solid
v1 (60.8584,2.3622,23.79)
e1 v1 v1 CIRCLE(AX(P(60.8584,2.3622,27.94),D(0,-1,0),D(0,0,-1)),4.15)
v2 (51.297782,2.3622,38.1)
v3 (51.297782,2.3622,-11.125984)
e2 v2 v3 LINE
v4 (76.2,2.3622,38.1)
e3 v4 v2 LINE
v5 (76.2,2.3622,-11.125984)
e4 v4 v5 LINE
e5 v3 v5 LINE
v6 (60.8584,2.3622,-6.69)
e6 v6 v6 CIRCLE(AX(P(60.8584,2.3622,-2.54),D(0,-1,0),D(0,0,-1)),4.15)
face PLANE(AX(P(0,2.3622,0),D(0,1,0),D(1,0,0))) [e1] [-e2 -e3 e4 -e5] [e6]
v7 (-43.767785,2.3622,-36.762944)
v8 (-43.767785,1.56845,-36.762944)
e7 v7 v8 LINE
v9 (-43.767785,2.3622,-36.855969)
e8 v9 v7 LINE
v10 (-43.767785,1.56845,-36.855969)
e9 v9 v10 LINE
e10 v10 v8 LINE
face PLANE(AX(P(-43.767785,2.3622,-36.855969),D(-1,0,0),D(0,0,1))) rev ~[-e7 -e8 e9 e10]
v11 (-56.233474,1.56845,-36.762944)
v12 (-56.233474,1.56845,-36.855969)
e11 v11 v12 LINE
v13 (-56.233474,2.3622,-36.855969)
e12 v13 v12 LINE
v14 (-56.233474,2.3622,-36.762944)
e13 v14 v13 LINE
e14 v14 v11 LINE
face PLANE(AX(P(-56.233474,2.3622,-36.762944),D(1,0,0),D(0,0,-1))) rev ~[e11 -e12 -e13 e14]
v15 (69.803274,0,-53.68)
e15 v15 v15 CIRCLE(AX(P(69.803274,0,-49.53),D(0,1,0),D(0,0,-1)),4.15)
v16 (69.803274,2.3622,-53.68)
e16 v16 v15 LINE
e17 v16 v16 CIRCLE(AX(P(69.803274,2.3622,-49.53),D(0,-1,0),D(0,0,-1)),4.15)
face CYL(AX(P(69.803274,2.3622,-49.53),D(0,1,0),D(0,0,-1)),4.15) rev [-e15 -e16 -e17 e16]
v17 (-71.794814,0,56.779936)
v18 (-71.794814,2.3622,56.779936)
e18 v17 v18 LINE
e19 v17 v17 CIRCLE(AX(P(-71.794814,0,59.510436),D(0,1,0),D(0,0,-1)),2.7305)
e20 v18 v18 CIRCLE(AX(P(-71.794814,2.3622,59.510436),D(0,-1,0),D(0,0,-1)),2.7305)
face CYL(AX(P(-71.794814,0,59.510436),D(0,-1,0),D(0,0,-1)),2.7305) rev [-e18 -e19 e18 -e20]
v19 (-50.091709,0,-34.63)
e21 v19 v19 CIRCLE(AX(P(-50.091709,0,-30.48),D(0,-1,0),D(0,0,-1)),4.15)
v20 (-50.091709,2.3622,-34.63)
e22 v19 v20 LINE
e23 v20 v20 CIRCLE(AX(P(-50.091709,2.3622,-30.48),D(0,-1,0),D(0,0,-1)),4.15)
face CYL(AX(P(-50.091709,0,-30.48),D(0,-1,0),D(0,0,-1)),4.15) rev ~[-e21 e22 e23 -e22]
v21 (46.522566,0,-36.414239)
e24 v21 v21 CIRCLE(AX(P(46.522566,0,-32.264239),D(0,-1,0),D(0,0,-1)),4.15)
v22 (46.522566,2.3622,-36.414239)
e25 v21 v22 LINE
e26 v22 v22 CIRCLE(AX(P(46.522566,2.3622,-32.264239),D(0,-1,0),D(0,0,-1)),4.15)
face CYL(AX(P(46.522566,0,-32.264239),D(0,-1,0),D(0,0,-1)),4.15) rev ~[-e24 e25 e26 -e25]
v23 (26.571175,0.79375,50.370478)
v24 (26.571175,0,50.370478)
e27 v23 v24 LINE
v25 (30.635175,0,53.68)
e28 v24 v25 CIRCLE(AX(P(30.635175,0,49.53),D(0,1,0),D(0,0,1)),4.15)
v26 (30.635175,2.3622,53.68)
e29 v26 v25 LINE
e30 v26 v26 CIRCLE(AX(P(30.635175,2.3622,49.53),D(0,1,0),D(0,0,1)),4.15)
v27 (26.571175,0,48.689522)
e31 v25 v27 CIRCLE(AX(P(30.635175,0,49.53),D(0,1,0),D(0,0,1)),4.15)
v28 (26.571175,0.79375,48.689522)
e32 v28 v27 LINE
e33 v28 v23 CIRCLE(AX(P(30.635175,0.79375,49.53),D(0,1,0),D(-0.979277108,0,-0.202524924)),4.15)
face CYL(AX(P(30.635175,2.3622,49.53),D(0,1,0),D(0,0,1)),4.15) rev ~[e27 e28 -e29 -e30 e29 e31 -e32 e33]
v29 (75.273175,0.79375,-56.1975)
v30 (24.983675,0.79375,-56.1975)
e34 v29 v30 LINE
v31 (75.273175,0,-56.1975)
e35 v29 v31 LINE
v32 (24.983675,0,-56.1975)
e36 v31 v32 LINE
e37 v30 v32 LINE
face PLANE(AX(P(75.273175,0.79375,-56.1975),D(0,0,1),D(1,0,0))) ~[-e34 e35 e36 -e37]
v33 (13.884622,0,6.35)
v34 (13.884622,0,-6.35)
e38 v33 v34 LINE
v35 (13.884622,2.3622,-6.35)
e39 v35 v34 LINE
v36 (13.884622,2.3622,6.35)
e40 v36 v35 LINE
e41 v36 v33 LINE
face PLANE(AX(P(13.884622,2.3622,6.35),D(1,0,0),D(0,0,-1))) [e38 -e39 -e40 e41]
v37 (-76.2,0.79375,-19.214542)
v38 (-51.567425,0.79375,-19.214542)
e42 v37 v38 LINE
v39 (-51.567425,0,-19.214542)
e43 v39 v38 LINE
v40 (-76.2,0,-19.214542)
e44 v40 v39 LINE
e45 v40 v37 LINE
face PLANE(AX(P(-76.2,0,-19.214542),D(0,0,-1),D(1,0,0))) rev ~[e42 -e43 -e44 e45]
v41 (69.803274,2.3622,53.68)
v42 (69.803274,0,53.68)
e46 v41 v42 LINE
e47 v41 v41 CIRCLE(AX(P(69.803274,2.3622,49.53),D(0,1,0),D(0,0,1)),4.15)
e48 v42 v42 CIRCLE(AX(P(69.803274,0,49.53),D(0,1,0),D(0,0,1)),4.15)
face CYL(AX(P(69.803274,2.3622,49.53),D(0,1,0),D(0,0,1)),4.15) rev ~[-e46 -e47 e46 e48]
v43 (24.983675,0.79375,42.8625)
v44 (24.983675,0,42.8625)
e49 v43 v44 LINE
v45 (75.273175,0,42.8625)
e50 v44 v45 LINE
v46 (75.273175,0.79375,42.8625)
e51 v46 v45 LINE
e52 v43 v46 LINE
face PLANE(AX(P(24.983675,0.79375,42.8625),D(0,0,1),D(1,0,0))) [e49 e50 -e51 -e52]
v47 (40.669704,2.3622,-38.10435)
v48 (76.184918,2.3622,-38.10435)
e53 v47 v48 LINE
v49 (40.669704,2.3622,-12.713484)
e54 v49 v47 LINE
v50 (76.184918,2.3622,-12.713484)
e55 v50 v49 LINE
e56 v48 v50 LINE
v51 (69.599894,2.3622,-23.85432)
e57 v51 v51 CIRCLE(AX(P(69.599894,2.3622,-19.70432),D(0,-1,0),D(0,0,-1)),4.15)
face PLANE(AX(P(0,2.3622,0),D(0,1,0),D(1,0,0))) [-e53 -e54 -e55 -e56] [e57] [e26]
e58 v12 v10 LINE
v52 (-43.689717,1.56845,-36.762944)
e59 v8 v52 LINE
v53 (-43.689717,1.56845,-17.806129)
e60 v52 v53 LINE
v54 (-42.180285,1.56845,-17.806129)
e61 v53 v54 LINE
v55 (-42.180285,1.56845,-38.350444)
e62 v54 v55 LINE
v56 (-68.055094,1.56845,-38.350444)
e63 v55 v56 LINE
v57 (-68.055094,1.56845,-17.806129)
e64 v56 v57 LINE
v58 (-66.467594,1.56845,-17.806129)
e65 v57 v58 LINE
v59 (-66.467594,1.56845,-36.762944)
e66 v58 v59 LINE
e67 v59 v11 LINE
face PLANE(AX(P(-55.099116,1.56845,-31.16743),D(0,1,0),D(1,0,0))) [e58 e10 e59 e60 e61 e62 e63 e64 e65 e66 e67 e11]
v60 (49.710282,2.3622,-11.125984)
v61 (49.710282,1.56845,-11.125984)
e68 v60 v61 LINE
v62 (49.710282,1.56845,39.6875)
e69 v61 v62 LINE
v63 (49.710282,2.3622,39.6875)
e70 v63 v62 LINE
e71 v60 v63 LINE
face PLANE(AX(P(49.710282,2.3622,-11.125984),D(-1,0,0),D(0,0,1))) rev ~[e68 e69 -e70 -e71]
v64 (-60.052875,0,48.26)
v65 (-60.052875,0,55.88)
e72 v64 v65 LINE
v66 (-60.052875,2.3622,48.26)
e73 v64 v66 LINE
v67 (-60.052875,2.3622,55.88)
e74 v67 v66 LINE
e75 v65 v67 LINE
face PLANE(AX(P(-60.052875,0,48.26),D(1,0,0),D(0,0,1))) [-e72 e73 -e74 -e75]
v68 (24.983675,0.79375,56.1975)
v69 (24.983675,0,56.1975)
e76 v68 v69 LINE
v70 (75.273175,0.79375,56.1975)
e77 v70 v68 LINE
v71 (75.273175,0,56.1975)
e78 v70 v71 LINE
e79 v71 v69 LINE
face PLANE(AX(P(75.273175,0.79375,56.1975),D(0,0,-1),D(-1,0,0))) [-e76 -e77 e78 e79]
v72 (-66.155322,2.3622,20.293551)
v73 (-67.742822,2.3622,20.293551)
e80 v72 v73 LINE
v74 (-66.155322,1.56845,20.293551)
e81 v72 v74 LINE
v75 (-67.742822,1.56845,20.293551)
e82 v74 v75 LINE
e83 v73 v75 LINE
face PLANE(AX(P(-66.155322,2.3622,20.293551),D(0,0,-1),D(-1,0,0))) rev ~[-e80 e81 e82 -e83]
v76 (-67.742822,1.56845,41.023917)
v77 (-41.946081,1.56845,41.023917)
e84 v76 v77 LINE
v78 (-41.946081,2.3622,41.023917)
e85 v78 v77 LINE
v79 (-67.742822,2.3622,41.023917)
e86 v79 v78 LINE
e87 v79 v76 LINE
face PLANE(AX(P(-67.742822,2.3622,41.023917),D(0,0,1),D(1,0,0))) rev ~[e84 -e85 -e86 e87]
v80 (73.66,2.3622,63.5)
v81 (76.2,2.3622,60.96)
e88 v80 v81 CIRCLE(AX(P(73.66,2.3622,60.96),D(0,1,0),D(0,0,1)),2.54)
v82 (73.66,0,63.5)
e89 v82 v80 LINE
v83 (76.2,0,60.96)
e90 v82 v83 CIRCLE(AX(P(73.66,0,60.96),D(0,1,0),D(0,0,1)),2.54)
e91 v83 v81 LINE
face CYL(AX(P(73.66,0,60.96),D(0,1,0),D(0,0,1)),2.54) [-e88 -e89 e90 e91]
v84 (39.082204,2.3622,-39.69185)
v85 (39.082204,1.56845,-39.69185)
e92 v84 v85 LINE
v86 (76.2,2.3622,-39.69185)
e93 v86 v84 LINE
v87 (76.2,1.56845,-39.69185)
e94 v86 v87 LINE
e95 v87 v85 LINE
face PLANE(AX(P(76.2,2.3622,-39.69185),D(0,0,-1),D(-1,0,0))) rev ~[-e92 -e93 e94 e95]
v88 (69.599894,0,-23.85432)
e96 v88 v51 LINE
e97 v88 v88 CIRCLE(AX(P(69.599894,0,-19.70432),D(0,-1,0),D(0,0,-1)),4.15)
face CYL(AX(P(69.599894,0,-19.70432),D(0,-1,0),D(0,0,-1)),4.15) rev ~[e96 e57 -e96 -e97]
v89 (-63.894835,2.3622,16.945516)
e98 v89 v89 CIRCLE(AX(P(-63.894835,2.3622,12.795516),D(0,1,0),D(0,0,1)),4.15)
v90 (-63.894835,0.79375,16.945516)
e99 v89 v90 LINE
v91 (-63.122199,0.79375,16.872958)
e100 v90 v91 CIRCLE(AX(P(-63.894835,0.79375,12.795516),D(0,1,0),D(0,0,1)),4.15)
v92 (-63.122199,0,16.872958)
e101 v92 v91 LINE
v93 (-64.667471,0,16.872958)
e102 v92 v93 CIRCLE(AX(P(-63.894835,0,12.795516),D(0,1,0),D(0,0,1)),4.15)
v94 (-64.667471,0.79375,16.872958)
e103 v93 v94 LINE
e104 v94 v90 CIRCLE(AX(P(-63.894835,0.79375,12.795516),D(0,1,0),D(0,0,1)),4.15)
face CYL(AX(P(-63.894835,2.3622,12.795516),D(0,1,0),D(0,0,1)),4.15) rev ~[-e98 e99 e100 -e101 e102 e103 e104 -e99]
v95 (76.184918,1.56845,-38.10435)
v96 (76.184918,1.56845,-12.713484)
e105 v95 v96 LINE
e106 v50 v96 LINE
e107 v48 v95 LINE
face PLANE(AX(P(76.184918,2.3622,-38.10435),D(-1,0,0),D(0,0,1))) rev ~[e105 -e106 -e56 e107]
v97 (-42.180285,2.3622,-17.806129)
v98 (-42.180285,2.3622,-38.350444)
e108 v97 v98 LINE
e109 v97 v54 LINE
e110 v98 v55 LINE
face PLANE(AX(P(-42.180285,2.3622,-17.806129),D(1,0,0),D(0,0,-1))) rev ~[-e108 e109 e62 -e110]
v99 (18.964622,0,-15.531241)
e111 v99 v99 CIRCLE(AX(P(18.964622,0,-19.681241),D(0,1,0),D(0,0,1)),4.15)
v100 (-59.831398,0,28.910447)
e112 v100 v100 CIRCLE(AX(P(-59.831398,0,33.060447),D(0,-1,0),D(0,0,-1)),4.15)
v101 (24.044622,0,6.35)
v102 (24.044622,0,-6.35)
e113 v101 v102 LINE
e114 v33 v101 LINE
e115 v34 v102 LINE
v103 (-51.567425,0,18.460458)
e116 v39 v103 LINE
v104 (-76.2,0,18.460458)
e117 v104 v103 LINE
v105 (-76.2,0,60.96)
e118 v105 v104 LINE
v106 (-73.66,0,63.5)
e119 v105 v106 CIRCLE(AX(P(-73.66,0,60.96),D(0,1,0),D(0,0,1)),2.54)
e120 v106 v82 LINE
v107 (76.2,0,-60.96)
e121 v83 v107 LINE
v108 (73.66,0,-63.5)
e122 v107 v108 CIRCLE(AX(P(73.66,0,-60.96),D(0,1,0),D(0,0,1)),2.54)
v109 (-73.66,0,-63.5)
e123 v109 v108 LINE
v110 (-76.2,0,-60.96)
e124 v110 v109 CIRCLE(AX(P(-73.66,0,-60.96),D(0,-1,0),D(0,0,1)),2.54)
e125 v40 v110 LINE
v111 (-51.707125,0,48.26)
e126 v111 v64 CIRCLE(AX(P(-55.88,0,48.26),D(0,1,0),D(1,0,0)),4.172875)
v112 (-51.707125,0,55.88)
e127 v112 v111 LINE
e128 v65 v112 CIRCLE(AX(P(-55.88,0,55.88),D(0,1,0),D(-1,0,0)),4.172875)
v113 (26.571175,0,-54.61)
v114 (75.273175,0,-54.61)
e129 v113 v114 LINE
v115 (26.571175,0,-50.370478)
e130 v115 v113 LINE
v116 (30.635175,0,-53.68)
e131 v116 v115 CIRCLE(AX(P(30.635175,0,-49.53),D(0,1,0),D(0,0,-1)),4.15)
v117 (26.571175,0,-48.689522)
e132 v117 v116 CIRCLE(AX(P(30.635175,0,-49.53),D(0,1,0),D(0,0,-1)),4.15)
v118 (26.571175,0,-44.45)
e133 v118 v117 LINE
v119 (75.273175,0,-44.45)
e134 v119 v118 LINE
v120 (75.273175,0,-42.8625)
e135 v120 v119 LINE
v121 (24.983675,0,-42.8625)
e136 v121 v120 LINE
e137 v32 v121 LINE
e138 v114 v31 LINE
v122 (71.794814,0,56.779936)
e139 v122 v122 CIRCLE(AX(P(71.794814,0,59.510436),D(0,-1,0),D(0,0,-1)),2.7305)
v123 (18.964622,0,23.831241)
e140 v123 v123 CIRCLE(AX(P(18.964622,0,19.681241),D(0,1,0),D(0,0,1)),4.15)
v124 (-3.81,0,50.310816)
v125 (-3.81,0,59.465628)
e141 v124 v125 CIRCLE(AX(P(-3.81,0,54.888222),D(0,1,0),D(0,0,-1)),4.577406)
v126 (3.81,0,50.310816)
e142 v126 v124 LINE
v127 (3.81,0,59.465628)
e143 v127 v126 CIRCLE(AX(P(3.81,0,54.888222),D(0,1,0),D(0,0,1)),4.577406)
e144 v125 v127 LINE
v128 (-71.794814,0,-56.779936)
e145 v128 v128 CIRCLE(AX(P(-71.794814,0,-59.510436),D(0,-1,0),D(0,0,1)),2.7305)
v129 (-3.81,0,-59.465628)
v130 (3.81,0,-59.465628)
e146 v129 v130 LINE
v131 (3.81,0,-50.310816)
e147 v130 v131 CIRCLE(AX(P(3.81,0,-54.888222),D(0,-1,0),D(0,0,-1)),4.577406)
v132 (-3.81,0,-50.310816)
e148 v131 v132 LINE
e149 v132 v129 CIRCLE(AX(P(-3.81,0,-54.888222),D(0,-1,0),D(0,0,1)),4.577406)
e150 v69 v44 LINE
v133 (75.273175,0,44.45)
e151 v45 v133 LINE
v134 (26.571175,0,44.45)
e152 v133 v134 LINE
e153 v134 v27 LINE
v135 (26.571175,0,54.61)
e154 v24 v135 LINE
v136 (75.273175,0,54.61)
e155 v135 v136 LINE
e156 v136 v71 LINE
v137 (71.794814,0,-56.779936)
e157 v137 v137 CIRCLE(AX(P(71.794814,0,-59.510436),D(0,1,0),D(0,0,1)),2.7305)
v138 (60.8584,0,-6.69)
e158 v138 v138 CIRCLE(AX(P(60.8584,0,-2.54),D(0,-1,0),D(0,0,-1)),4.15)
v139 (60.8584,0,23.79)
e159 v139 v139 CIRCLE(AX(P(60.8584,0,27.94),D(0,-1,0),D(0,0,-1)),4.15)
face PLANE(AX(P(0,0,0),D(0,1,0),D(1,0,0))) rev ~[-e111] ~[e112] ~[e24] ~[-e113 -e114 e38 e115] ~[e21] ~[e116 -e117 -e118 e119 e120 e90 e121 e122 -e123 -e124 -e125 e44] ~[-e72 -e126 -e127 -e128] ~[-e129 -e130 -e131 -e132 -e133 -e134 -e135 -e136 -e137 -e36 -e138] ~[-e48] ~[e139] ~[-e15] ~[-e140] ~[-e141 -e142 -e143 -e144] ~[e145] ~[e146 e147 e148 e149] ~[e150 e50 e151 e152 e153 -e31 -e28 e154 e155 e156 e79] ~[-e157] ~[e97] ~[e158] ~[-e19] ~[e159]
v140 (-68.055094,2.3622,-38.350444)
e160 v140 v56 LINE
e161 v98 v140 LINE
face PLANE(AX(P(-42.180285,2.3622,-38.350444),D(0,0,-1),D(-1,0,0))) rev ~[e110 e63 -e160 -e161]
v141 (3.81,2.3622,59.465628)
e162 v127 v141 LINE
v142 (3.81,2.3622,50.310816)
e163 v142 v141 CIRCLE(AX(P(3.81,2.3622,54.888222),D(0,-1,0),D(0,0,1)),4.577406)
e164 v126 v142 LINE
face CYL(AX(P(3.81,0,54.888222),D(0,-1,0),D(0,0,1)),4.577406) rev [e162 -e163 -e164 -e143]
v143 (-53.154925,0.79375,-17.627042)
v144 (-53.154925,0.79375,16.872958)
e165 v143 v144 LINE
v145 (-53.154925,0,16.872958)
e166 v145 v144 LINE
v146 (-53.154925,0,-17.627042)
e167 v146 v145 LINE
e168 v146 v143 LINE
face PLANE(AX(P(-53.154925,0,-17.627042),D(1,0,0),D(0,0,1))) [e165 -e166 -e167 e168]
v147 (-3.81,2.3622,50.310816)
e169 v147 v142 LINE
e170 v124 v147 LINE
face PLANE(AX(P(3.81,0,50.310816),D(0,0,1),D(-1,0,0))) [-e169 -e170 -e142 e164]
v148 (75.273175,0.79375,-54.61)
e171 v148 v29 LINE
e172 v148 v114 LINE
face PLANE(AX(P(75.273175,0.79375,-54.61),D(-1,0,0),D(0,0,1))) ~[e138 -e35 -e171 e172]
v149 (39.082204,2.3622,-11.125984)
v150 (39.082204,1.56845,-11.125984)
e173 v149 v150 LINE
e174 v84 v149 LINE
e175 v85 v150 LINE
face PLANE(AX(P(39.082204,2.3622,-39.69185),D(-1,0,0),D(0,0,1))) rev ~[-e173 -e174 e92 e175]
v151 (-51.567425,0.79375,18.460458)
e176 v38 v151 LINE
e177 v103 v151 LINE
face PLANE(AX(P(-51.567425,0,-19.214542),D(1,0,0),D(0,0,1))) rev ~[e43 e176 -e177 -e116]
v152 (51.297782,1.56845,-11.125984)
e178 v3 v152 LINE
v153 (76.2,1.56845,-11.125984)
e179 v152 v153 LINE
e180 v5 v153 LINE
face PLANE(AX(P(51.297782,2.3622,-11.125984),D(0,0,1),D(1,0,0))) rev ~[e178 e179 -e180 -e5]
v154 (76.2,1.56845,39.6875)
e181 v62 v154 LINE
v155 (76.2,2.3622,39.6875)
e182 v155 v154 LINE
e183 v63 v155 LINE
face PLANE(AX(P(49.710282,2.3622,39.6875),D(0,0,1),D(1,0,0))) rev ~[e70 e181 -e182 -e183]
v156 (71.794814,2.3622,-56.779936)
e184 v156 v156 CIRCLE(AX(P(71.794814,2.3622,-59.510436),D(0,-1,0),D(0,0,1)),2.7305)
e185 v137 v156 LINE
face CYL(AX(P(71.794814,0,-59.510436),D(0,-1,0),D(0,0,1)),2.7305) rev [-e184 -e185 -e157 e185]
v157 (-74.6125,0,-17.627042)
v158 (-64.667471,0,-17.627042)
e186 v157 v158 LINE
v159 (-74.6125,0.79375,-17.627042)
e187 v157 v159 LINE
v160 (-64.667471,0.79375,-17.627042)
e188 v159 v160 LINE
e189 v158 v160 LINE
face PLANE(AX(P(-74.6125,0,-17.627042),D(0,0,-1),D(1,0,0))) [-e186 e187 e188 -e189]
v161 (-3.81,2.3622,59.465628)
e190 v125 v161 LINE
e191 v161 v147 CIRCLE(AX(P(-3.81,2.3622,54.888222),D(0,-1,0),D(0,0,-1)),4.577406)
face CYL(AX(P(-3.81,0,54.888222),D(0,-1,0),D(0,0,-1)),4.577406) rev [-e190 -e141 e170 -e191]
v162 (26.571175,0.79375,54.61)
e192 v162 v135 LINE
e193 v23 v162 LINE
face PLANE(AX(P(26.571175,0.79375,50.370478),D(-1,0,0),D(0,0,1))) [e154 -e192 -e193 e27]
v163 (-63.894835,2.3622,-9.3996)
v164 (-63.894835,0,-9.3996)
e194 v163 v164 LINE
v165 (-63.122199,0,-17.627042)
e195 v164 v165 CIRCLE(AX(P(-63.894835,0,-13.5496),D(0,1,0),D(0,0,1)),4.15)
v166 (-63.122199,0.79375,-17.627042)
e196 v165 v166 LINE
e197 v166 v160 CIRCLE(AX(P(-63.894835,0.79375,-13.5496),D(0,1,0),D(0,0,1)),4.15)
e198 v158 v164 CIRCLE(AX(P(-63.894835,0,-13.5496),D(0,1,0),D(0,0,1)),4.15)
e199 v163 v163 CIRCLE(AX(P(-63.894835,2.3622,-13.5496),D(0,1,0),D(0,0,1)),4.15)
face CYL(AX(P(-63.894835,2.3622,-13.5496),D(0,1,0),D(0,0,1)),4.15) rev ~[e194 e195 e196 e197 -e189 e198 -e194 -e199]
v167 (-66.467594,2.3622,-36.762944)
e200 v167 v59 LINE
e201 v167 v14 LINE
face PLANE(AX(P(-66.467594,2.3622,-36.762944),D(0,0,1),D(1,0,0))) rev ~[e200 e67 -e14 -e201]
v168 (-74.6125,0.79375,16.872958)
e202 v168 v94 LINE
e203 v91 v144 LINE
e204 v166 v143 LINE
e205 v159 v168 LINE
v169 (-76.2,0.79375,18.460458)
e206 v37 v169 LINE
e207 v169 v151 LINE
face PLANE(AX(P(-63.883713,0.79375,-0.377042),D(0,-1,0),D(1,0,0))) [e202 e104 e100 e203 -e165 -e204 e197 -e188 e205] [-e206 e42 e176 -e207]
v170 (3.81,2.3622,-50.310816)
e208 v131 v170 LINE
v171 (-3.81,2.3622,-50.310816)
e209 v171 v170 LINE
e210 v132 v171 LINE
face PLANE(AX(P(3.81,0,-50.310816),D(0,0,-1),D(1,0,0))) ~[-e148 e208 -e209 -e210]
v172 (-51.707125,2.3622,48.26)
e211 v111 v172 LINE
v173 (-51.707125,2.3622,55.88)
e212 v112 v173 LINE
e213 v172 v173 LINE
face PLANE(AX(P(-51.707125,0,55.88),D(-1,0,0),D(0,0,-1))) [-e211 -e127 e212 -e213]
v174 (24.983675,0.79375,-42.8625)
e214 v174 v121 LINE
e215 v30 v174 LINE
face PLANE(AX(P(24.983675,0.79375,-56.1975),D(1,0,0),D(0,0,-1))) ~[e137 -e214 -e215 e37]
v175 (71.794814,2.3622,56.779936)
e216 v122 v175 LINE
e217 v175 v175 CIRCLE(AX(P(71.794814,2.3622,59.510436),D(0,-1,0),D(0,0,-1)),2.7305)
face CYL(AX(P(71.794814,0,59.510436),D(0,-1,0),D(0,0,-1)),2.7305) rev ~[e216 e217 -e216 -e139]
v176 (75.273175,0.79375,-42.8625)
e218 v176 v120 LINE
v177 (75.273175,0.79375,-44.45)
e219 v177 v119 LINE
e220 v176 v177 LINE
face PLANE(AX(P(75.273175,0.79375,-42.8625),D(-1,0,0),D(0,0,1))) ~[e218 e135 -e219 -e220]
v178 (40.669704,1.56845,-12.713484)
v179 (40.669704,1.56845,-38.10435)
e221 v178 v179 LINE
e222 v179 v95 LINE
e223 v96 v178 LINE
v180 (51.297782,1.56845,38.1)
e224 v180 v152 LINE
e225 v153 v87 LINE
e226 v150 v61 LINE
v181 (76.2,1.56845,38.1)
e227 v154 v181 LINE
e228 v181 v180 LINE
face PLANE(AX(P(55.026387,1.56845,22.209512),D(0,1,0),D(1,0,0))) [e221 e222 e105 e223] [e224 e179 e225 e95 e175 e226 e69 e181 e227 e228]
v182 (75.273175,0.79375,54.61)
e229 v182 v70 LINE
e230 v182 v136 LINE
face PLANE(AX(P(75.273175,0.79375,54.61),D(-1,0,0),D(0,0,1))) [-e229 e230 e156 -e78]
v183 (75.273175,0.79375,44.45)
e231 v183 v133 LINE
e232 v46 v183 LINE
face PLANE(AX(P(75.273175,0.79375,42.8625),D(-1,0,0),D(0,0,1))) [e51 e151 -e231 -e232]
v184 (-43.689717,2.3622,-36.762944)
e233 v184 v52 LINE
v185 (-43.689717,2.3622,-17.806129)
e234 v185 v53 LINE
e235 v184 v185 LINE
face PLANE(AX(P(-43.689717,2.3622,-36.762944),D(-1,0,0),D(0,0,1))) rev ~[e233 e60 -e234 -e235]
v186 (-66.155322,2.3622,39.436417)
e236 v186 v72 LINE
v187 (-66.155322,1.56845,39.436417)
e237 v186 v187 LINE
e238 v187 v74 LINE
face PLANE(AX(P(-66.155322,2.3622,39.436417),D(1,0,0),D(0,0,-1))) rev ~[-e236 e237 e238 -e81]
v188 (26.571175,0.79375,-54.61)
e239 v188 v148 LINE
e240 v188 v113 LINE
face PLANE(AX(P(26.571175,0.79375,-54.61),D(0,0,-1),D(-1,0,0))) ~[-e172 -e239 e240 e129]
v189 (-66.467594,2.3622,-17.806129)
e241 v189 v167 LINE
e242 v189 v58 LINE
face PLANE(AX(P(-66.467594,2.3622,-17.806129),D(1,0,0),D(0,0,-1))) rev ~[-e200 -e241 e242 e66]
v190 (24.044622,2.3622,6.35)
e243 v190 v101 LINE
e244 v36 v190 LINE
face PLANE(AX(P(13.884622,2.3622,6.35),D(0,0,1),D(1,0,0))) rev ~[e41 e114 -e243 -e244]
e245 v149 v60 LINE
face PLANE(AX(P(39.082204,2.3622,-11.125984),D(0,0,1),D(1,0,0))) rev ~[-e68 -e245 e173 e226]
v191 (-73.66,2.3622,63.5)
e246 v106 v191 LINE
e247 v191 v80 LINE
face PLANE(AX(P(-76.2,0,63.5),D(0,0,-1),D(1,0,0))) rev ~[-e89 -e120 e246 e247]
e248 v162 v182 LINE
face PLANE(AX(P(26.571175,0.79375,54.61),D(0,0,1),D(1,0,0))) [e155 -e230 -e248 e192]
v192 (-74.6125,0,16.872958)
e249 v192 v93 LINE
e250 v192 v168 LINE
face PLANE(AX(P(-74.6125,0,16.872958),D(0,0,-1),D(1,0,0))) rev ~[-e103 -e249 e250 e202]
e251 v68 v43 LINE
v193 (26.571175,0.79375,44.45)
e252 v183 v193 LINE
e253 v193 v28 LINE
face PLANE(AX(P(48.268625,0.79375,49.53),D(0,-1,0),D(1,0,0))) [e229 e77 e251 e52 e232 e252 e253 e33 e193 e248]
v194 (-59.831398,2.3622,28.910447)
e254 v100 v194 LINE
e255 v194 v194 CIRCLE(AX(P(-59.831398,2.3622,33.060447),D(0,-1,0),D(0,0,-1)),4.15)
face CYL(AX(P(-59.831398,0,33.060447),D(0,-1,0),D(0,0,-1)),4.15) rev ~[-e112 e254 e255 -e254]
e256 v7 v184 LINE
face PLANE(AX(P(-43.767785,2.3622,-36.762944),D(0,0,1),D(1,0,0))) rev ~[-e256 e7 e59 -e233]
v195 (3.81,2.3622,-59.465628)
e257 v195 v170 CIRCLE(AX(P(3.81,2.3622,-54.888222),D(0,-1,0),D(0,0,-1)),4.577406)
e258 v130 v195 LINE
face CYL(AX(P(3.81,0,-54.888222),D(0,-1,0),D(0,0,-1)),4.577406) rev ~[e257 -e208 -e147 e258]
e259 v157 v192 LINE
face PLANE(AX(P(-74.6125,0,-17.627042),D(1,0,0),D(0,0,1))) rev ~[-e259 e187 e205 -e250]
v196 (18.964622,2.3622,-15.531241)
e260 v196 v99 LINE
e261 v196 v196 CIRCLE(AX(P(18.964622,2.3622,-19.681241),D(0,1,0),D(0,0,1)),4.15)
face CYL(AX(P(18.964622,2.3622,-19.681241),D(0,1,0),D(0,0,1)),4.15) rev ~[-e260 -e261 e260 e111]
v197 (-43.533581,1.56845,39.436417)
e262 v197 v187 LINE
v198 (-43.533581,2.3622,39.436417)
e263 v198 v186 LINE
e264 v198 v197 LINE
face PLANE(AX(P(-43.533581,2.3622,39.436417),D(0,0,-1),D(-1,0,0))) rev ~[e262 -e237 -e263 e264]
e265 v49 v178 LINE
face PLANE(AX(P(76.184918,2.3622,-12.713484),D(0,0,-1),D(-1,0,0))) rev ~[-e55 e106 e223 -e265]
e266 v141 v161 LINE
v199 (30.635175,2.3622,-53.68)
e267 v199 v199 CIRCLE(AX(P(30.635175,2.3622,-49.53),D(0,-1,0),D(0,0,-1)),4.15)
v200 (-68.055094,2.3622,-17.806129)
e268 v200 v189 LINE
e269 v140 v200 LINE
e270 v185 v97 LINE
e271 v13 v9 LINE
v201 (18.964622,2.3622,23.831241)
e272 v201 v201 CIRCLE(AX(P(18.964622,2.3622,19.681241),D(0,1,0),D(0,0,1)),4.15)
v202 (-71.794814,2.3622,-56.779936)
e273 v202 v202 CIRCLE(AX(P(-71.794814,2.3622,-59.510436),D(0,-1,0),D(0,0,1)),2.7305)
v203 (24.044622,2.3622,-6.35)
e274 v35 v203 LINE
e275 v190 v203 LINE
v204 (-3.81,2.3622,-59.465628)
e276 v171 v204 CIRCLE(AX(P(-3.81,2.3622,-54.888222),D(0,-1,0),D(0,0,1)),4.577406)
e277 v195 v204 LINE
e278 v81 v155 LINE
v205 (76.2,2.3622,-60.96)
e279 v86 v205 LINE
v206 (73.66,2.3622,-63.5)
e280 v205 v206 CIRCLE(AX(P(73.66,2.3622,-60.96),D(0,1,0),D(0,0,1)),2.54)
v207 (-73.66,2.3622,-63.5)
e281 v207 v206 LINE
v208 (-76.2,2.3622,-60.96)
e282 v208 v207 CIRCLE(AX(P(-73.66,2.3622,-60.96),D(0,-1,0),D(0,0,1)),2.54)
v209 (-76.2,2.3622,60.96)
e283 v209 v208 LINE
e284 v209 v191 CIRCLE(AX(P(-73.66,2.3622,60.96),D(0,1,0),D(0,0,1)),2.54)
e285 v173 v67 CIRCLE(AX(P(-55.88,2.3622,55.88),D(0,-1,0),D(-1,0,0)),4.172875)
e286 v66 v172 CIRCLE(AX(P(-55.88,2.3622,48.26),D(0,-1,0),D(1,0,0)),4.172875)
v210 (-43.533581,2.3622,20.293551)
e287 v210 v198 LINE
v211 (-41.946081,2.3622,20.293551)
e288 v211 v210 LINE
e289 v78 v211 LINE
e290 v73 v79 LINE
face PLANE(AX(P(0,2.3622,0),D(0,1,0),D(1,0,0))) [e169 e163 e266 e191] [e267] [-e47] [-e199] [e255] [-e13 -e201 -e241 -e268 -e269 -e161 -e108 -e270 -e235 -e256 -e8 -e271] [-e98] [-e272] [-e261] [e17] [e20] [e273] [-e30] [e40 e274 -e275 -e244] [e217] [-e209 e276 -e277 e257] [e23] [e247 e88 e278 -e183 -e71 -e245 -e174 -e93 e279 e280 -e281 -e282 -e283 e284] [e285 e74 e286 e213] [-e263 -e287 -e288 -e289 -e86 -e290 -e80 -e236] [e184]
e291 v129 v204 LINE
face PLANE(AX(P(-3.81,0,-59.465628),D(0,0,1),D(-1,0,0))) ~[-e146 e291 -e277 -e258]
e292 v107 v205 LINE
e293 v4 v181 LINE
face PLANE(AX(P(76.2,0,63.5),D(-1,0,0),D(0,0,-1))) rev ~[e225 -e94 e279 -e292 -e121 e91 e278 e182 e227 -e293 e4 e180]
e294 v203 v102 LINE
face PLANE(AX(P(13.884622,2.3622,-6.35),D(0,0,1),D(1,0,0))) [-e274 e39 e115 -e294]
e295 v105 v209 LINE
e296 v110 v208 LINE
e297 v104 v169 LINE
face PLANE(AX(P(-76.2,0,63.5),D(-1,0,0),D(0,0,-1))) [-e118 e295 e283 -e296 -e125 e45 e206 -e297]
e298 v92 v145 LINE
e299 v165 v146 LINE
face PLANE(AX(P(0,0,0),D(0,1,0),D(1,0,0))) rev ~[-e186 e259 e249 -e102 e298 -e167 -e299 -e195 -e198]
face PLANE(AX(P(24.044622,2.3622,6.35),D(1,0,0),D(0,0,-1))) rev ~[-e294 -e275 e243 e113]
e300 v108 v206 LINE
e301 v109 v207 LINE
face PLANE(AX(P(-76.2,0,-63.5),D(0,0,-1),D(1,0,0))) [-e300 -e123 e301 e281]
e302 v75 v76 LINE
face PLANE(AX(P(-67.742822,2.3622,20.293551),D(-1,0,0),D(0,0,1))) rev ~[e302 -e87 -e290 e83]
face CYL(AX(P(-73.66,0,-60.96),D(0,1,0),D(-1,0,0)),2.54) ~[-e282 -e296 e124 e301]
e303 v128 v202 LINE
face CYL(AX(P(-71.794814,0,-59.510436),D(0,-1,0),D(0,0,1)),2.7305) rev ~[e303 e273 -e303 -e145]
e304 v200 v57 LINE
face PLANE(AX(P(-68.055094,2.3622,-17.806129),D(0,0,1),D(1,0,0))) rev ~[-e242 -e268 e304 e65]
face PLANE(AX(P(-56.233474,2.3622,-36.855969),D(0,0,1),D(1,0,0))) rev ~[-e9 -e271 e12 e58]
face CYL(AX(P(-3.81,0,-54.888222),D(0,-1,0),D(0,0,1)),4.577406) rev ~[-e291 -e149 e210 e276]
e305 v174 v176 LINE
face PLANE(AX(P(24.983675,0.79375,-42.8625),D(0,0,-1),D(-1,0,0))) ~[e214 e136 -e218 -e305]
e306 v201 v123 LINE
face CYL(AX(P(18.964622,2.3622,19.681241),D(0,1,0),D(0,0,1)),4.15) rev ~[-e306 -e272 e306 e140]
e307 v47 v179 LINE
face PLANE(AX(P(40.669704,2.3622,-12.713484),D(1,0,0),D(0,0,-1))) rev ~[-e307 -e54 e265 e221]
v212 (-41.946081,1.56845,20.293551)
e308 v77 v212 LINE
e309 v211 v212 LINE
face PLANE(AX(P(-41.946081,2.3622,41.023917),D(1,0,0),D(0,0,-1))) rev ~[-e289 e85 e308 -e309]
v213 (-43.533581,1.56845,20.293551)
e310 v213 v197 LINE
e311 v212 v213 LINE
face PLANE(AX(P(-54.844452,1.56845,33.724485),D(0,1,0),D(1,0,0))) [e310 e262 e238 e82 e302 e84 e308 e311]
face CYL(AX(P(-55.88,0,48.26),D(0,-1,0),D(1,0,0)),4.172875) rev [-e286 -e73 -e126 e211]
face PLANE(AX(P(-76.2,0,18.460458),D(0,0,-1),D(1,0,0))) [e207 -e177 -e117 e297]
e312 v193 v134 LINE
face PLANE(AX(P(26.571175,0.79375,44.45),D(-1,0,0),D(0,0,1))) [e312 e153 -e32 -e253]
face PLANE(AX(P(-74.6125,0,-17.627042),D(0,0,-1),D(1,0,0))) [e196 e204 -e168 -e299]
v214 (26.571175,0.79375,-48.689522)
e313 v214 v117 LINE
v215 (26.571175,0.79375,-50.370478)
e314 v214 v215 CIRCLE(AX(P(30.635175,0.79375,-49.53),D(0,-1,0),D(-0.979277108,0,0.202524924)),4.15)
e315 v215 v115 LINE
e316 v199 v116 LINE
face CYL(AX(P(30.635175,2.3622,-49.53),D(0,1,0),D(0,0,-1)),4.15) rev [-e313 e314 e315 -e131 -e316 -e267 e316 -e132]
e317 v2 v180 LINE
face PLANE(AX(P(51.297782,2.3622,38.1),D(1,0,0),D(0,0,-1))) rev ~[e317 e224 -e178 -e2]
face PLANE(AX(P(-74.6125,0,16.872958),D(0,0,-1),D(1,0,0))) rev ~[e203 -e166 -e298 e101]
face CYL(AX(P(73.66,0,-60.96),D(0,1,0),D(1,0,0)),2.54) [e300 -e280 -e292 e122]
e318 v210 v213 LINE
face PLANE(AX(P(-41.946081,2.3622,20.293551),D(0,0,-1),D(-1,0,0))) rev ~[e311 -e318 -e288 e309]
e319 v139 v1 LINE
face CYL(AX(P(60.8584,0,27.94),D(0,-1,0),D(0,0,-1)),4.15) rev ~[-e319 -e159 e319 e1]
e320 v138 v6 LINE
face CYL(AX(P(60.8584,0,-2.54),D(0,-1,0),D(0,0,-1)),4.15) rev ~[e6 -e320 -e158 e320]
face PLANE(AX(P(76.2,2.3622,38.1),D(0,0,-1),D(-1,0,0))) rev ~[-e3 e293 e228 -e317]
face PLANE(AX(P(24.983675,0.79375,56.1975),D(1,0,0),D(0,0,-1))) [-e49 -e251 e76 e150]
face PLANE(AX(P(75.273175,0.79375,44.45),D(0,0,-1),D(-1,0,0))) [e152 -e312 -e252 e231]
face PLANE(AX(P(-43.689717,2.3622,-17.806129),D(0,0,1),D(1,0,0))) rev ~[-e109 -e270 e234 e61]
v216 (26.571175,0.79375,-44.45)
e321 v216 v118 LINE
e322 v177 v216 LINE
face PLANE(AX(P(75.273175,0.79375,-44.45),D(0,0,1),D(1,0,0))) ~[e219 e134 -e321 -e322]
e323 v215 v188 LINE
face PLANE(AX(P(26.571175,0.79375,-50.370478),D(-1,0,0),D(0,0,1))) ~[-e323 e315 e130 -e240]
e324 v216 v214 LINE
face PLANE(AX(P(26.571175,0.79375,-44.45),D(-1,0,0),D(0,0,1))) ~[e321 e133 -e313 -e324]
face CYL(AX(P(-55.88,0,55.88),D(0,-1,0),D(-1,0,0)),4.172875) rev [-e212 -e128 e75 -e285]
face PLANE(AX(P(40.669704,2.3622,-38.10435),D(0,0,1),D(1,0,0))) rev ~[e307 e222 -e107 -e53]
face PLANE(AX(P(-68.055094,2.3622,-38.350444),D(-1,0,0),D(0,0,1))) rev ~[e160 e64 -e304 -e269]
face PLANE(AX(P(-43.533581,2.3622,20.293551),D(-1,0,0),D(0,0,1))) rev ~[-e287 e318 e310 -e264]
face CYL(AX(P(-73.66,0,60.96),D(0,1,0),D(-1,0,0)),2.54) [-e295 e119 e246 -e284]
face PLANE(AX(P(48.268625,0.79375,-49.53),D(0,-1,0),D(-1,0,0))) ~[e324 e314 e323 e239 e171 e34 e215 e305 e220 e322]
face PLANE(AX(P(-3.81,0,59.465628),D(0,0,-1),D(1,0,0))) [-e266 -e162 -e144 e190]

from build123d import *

# Parameters (mm, degrees)
SKETCH1_W               = 152.4
SKETCH1_H               = 127
BOSS_EXTRUDE1_DEPTH     = 2.3622
FILLET1_R               = 2.54
SKETCH9_R               = 4.15
CUT_EXTRUDE8_DEPTH      = 100.218294628
CUT_EXTRUDE11_DEPTH     = 100.218294628
CUT_EXTRUDE12_DEPTH     = 100.218294628
SKETCH16_R              = 4.15
CUT_EXTRUDE14_DEPTH     = 100.218294628
SKETCH17_R              = 2.7305
CUT_EXTRUDE16_DEPTH     = 100.218294628
MIRROR7_COPY_1_SKETCH_R = 2.7305
MIRROR7_COPY_1_DEPTH    = 100.218294628
SKETCH26_W              = 10.16
SKETCH26_H              = 12.7
CUT_EXTRUDE26_DEPTH     = 100.218294628
SKETCH27_R              = 4.15
CUT_EXTRUDE27_DEPTH     = 100.218294628
SKETCH29_R              = 4.15
CUT_EXTRUDE28_DEPTH     = 100.218294628
SKETCH30_R              = 4.15
CUT_EXTRUDE29_DEPTH     = 100.218294628
SKETCH31_R              = 4.15
CUT_EXTRUDE30_DEPTH     = 100.218294628
CUT_EXTRUDE31_DEPTH     = 0.79375
SKETCH33_W              = 1.5875
SKETCH33_H              = 1.5875
CUT_EXTRUDE32_DEPTH     = 0.79375
SKETCH34_W              = 24.632574661
SKETCH34_H              = 37.675
SKETCH34_W_2            = 21.457574661
SKETCH34_H_2            = 34.5
CUT_EXTRUDE33_DEPTH     = 0.79375
CUT_EXTRUDE34_START     = -0.79375
CUT_EXTRUDE34_DEPTH     = 0.79375


with BuildPart() as part:
    # Sketch1 → Boss-Extrude1 (new body)
    with BuildSketch(Plane(origin=(0, 0, 0), x_dir=(1, 0, 0), z_dir=(0, 1, 0))):
        Rectangle(SKETCH1_W, SKETCH1_H)
    extrude(amount=BOSS_EXTRUDE1_DEPTH)

    # Fillet1
    fillet1_edges = [part.edges().sort_by_distance(p)[0] for p in [
        (76.2, 1.1811, 63.5),
        (-76.2, 1.1811, 63.5),
        (-76.2, 1.1811, -63.5),
        (76.2, 1.1811, -63.5),
    ]]
    fillet(fillet1_edges, radius=FILLET1_R)

    # Sketch9 → Cut-Extrude8 (cut, through all)
    with BuildSketch(Plane.XZ):
        with Locations(Location((60.8584, 27.94, 0), (0, 0, 270))):
            Circle(SKETCH9_R)
        with Locations(Location((60.8584, -2.54, 0), (0, 0, 270))):
            Circle(SKETCH9_R)
    extrude(amount=-CUT_EXTRUDE8_DEPTH, mode=Mode.SUBTRACT)

    # Sketch12 → Cut-Extrude11 (cut, through all)
    with BuildSketch(Plane.XZ):
        with BuildLine():
            Line((-3.81, 59.465627528), (3.81, 59.465627528))
            ThreePointArc((3.81, 59.465627528), (8.387405636, 54.888221892), (3.81, 50.310816255))
            Line((3.81, 50.310816255), (-3.81, 50.310816255))
            ThreePointArc((-3.81, 50.310816255), (-8.387405636, 54.888221892), (-3.81, 59.465627528))
        make_face()
    cut_extrude11 = extrude(amount=-CUT_EXTRUDE11_DEPTH, mode=Mode.SUBTRACT)

    # Mirror3: Cut-Extrude11 across plane
    add(cut_extrude11.mirror(Plane.XY), mode=Mode.SUBTRACT)

    # Sketch13 → Cut-Extrude12 (cut, through all)
    with BuildSketch(Plane(origin=(0, 0, 0), x_dir=(-1, 0, 0), z_dir=(0, -1, 0))):
        with BuildLine():
            Line((60.052874771, -48.26), (60.052874771, -55.88))
            ThreePointArc((60.052874771, -55.88), (55.88, -60.052874771), (51.707125229, -55.88))
            Line((51.707125229, -55.88), (51.707125229, -48.26))
            ThreePointArc((51.707125229, -48.26), (55.88, -44.087125229), (60.052874771, -48.26))
        make_face()
    extrude(amount=-CUT_EXTRUDE12_DEPTH, mode=Mode.SUBTRACT)

    # Sketch16 → Cut-Extrude14 (cut, through all)
    with BuildSketch(Plane(origin=(0, 0, 0), x_dir=(-1, 0, 0), z_dir=(0, -1, 0))):
        with Locations(Location((-69.599893995, 19.704320306, 0), (0, 0, 90))):
            Circle(SKETCH16_R)
        with Locations(Location((-46.522565834, 32.264238523, 0), (0, 0, 90))):
            Circle(SKETCH16_R)
    extrude(amount=-CUT_EXTRUDE14_DEPTH, mode=Mode.SUBTRACT)

    # Sketch17 → Cut-Extrude16 (cut, through all)
    with BuildSketch(Plane.XZ):
        with Locations(Location((71.794813785, 59.510435834, 0), (0, 0, 270))):
            Circle(SKETCH17_R)
    cut_extrude16 = extrude(amount=-CUT_EXTRUDE16_DEPTH, mode=Mode.SUBTRACT)

    # Mirror6: Cut-Extrude16 across plane
    add(cut_extrude16.mirror(Plane(origin=(0, 0, 0), x_dir=(0, 0, 1), z_dir=(1, 0, 0))), mode=Mode.SUBTRACT)

    # Mirror7: Cut-Extrude16 across plane
    add(cut_extrude16.mirror(Plane.XY), mode=Mode.SUBTRACT)

    # Mirror7 copy 1 sketch → Mirror7 copy 1 (cut, through all)
    with BuildSketch(Plane(origin=(0, 0, 0), x_dir=(-1, 0, 0), z_dir=(0, -1, 0))):
        with Locations(Location((71.794813785, 59.510435834, 0), (0, 0, 270))):
            Circle(MIRROR7_COPY_1_SKETCH_R)
    extrude(amount=-MIRROR7_COPY_1_DEPTH, mode=Mode.SUBTRACT)

    # Sketch26 → Cut-Extrude26 (cut, through all)
    with BuildSketch(Plane(origin=(0, 2.3622, 0), x_dir=(1, 0, 0), z_dir=(0, 1, 0))):
        with Locations((18.964621702, 0)):
            Rectangle(SKETCH26_W, SKETCH26_H)
    extrude(amount=-CUT_EXTRUDE26_DEPTH, mode=Mode.SUBTRACT)

    # Sketch27 → Cut-Extrude27 (cut, through all)
    with BuildSketch(Plane.XZ):
        with Locations(Location((-59.831398438, 33.060447312, 0), (0, 0, 270))):
            Circle(SKETCH27_R)
        with Locations(Location((-50.09170874, -30.48, 0), (0, 0, 270))):
            Circle(SKETCH27_R)
    extrude(amount=-CUT_EXTRUDE27_DEPTH, mode=Mode.SUBTRACT)

    # Sketch29 → Cut-Extrude28 (cut, through all)
    with BuildSketch(Plane(origin=(0, 2.3622, 0), x_dir=(1, 0, 0), z_dir=(0, 1, 0))):
        with Locations(Location((18.964621702, 19.681240592, 0), (0, 0, 270))):
            Circle(SKETCH29_R)
        with Locations(Location((18.964621702, -19.681240592, 0), (0, 0, 270))):
            Circle(SKETCH29_R)
    extrude(amount=-CUT_EXTRUDE28_DEPTH, mode=Mode.SUBTRACT)

    # Sketch30 → Cut-Extrude29 (cut, through all)
    with BuildSketch(Plane(origin=(0, 2.3622, 0), x_dir=(1, 0, 0), z_dir=(0, 1, 0))):
        with Locations(Location((69.803274088, -49.53, 0), (0, 0, 270))):
            Circle(SKETCH30_R)
        with Locations(Location((30.63517528, -49.53, 0), (0, 0, 270))):
            Circle(SKETCH30_R)
    cut_extrude29 = extrude(amount=-CUT_EXTRUDE29_DEPTH, mode=Mode.SUBTRACT)

    # Mirror8: Cut-Extrude29 across plane
    add(cut_extrude29.mirror(Plane.XY), mode=Mode.SUBTRACT)

    # Sketch31 → Cut-Extrude30 (cut, through all)
    with BuildSketch(Plane(origin=(0, 2.3622, 0), x_dir=(1, 0, 0), z_dir=(0, 1, 0))):
        with Locations(Location((-63.894835235, -12.79551579, 0), (0, 0, 270))):
            Circle(SKETCH31_R)
        with Locations(Location((-63.894835235, 13.549600091, 0), (0, 0, 270))):
            Circle(SKETCH31_R)
    extrude(amount=-CUT_EXTRUDE30_DEPTH, mode=Mode.SUBTRACT)

    # Sketch32 → Cut-Extrude31 (cut)
    with BuildSketch(Plane(origin=(0, 2.3622, 0), x_dir=(1, 0, 0), z_dir=(0, 1, 0))):
        Polygon((-66.467594082, 36.762943521), (-56.233474354, 36.762943521), (-56.233474354, 36.855969312), (-43.767784695, 36.855969312), (-43.767784695, 36.762943521), (-43.689716795, 36.762943521), (-43.689716795, 17.806129276), (-42.180284695, 17.806129276), (-42.180284695, 38.350443521), (-68.055094082, 38.350443521), (-68.055094082, 17.806129276), (-66.467594082, 17.806129276), align=None)
        Polygon((-43.533580996, -39.436416624), (-66.155322484, -39.436416624), (-66.155322484, -20.293550797), (-67.742822484, -20.293550797), (-67.742822484, -41.023916624), (-41.946080996, -41.023916624), (-41.946080996, -20.293550797), (-43.533580996, -20.293550797), align=None)
    extrude(amount=-CUT_EXTRUDE31_DEPTH, mode=Mode.SUBTRACT)

    # Sketch33 → Cut-Extrude32 (cut)
    with BuildSketch(Plane(origin=(0, 2.3622, 0), x_dir=(1, 0, 0), z_dir=(0, 1, 0))):
        Polygon((51.297781708, 11.125983721), (49.710281708, 11.125983721), (49.710281708, -39.6875), (76.2, -39.6875), (76.2, -38.1), (51.297781708, -38.1), align=None)
        Polygon((76.184917735, 12.713483721), (51.297781708, 12.713483721), (51.297781708, 11.125983721), (76.2, 11.125983721), (76.2, 14.063999978), (76.184917735, 14.063999978), align=None)
        with Locations((50.504031708, 11.919733721)):
            Rectangle(SKETCH33_W, SKETCH33_H)
        Polygon((49.710281708, 12.713483721), (40.669704347, 12.713483721), (40.669704347, 38.10435014), (76.184917735, 38.10435014), (76.184917735, 14.063999978), (76.2, 14.063999978), (76.2, 39.69185014), (39.082204347, 39.69185014), (39.082204347, 11.125983721), (49.710281708, 11.125983721), align=None)
    extrude(amount=-CUT_EXTRUDE32_DEPTH, mode=Mode.SUBTRACT)

    # Sketch34 → Cut-Extrude33 (cut)
    with BuildSketch(Plane.XZ):
        with Locations((-63.883712669, -0.37704215)):
            Rectangle(SKETCH34_W, SKETCH34_H)
        with Locations((-63.88371267, -0.37704215)):
            Rectangle(SKETCH34_W_2, SKETCH34_H_2, mode=Mode.SUBTRACT)
    extrude(amount=-CUT_EXTRUDE33_DEPTH, mode=Mode.SUBTRACT)

    # Sketch36 → Cut-Extrude34 (cut)
    with BuildSketch(Plane.XZ.offset(CUT_EXTRUDE34_START)):
        with BuildLine():
            Line((75.27317528, 44.45), (26.57117528, 44.45))
            Line((26.57117528, 44.45), (26.57117528, 48.689521566))
            ThreePointArc((26.57117528, 48.689521566), (26.48517528, 49.53), (26.57117528, 50.370478434))
            Line((26.57117528, 50.370478434), (26.57117528, 54.61))
            Line((26.57117528, 54.61), (75.27317528, 54.61))
            Line((75.27317528, 54.61), (75.27317528, 56.1975))
            Line((75.27317528, 56.1975), (24.98367528, 56.1975))
            Line((24.98367528, 56.1975), (24.98367528, 42.8625))
            Line((24.98367528, 42.8625), (75.27317528, 42.8625))
            Line((75.27317528, 42.8625), (75.27317528, 44.45))
        make_face()
    cut_extrude34 = extrude(amount=CUT_EXTRUDE34_DEPTH, mode=Mode.SUBTRACT)

    # Mirror9: Cut-Extrude34 across plane
    add(cut_extrude34.mirror(Plane.XY), mode=Mode.SUBTRACT)


solid = part.part
